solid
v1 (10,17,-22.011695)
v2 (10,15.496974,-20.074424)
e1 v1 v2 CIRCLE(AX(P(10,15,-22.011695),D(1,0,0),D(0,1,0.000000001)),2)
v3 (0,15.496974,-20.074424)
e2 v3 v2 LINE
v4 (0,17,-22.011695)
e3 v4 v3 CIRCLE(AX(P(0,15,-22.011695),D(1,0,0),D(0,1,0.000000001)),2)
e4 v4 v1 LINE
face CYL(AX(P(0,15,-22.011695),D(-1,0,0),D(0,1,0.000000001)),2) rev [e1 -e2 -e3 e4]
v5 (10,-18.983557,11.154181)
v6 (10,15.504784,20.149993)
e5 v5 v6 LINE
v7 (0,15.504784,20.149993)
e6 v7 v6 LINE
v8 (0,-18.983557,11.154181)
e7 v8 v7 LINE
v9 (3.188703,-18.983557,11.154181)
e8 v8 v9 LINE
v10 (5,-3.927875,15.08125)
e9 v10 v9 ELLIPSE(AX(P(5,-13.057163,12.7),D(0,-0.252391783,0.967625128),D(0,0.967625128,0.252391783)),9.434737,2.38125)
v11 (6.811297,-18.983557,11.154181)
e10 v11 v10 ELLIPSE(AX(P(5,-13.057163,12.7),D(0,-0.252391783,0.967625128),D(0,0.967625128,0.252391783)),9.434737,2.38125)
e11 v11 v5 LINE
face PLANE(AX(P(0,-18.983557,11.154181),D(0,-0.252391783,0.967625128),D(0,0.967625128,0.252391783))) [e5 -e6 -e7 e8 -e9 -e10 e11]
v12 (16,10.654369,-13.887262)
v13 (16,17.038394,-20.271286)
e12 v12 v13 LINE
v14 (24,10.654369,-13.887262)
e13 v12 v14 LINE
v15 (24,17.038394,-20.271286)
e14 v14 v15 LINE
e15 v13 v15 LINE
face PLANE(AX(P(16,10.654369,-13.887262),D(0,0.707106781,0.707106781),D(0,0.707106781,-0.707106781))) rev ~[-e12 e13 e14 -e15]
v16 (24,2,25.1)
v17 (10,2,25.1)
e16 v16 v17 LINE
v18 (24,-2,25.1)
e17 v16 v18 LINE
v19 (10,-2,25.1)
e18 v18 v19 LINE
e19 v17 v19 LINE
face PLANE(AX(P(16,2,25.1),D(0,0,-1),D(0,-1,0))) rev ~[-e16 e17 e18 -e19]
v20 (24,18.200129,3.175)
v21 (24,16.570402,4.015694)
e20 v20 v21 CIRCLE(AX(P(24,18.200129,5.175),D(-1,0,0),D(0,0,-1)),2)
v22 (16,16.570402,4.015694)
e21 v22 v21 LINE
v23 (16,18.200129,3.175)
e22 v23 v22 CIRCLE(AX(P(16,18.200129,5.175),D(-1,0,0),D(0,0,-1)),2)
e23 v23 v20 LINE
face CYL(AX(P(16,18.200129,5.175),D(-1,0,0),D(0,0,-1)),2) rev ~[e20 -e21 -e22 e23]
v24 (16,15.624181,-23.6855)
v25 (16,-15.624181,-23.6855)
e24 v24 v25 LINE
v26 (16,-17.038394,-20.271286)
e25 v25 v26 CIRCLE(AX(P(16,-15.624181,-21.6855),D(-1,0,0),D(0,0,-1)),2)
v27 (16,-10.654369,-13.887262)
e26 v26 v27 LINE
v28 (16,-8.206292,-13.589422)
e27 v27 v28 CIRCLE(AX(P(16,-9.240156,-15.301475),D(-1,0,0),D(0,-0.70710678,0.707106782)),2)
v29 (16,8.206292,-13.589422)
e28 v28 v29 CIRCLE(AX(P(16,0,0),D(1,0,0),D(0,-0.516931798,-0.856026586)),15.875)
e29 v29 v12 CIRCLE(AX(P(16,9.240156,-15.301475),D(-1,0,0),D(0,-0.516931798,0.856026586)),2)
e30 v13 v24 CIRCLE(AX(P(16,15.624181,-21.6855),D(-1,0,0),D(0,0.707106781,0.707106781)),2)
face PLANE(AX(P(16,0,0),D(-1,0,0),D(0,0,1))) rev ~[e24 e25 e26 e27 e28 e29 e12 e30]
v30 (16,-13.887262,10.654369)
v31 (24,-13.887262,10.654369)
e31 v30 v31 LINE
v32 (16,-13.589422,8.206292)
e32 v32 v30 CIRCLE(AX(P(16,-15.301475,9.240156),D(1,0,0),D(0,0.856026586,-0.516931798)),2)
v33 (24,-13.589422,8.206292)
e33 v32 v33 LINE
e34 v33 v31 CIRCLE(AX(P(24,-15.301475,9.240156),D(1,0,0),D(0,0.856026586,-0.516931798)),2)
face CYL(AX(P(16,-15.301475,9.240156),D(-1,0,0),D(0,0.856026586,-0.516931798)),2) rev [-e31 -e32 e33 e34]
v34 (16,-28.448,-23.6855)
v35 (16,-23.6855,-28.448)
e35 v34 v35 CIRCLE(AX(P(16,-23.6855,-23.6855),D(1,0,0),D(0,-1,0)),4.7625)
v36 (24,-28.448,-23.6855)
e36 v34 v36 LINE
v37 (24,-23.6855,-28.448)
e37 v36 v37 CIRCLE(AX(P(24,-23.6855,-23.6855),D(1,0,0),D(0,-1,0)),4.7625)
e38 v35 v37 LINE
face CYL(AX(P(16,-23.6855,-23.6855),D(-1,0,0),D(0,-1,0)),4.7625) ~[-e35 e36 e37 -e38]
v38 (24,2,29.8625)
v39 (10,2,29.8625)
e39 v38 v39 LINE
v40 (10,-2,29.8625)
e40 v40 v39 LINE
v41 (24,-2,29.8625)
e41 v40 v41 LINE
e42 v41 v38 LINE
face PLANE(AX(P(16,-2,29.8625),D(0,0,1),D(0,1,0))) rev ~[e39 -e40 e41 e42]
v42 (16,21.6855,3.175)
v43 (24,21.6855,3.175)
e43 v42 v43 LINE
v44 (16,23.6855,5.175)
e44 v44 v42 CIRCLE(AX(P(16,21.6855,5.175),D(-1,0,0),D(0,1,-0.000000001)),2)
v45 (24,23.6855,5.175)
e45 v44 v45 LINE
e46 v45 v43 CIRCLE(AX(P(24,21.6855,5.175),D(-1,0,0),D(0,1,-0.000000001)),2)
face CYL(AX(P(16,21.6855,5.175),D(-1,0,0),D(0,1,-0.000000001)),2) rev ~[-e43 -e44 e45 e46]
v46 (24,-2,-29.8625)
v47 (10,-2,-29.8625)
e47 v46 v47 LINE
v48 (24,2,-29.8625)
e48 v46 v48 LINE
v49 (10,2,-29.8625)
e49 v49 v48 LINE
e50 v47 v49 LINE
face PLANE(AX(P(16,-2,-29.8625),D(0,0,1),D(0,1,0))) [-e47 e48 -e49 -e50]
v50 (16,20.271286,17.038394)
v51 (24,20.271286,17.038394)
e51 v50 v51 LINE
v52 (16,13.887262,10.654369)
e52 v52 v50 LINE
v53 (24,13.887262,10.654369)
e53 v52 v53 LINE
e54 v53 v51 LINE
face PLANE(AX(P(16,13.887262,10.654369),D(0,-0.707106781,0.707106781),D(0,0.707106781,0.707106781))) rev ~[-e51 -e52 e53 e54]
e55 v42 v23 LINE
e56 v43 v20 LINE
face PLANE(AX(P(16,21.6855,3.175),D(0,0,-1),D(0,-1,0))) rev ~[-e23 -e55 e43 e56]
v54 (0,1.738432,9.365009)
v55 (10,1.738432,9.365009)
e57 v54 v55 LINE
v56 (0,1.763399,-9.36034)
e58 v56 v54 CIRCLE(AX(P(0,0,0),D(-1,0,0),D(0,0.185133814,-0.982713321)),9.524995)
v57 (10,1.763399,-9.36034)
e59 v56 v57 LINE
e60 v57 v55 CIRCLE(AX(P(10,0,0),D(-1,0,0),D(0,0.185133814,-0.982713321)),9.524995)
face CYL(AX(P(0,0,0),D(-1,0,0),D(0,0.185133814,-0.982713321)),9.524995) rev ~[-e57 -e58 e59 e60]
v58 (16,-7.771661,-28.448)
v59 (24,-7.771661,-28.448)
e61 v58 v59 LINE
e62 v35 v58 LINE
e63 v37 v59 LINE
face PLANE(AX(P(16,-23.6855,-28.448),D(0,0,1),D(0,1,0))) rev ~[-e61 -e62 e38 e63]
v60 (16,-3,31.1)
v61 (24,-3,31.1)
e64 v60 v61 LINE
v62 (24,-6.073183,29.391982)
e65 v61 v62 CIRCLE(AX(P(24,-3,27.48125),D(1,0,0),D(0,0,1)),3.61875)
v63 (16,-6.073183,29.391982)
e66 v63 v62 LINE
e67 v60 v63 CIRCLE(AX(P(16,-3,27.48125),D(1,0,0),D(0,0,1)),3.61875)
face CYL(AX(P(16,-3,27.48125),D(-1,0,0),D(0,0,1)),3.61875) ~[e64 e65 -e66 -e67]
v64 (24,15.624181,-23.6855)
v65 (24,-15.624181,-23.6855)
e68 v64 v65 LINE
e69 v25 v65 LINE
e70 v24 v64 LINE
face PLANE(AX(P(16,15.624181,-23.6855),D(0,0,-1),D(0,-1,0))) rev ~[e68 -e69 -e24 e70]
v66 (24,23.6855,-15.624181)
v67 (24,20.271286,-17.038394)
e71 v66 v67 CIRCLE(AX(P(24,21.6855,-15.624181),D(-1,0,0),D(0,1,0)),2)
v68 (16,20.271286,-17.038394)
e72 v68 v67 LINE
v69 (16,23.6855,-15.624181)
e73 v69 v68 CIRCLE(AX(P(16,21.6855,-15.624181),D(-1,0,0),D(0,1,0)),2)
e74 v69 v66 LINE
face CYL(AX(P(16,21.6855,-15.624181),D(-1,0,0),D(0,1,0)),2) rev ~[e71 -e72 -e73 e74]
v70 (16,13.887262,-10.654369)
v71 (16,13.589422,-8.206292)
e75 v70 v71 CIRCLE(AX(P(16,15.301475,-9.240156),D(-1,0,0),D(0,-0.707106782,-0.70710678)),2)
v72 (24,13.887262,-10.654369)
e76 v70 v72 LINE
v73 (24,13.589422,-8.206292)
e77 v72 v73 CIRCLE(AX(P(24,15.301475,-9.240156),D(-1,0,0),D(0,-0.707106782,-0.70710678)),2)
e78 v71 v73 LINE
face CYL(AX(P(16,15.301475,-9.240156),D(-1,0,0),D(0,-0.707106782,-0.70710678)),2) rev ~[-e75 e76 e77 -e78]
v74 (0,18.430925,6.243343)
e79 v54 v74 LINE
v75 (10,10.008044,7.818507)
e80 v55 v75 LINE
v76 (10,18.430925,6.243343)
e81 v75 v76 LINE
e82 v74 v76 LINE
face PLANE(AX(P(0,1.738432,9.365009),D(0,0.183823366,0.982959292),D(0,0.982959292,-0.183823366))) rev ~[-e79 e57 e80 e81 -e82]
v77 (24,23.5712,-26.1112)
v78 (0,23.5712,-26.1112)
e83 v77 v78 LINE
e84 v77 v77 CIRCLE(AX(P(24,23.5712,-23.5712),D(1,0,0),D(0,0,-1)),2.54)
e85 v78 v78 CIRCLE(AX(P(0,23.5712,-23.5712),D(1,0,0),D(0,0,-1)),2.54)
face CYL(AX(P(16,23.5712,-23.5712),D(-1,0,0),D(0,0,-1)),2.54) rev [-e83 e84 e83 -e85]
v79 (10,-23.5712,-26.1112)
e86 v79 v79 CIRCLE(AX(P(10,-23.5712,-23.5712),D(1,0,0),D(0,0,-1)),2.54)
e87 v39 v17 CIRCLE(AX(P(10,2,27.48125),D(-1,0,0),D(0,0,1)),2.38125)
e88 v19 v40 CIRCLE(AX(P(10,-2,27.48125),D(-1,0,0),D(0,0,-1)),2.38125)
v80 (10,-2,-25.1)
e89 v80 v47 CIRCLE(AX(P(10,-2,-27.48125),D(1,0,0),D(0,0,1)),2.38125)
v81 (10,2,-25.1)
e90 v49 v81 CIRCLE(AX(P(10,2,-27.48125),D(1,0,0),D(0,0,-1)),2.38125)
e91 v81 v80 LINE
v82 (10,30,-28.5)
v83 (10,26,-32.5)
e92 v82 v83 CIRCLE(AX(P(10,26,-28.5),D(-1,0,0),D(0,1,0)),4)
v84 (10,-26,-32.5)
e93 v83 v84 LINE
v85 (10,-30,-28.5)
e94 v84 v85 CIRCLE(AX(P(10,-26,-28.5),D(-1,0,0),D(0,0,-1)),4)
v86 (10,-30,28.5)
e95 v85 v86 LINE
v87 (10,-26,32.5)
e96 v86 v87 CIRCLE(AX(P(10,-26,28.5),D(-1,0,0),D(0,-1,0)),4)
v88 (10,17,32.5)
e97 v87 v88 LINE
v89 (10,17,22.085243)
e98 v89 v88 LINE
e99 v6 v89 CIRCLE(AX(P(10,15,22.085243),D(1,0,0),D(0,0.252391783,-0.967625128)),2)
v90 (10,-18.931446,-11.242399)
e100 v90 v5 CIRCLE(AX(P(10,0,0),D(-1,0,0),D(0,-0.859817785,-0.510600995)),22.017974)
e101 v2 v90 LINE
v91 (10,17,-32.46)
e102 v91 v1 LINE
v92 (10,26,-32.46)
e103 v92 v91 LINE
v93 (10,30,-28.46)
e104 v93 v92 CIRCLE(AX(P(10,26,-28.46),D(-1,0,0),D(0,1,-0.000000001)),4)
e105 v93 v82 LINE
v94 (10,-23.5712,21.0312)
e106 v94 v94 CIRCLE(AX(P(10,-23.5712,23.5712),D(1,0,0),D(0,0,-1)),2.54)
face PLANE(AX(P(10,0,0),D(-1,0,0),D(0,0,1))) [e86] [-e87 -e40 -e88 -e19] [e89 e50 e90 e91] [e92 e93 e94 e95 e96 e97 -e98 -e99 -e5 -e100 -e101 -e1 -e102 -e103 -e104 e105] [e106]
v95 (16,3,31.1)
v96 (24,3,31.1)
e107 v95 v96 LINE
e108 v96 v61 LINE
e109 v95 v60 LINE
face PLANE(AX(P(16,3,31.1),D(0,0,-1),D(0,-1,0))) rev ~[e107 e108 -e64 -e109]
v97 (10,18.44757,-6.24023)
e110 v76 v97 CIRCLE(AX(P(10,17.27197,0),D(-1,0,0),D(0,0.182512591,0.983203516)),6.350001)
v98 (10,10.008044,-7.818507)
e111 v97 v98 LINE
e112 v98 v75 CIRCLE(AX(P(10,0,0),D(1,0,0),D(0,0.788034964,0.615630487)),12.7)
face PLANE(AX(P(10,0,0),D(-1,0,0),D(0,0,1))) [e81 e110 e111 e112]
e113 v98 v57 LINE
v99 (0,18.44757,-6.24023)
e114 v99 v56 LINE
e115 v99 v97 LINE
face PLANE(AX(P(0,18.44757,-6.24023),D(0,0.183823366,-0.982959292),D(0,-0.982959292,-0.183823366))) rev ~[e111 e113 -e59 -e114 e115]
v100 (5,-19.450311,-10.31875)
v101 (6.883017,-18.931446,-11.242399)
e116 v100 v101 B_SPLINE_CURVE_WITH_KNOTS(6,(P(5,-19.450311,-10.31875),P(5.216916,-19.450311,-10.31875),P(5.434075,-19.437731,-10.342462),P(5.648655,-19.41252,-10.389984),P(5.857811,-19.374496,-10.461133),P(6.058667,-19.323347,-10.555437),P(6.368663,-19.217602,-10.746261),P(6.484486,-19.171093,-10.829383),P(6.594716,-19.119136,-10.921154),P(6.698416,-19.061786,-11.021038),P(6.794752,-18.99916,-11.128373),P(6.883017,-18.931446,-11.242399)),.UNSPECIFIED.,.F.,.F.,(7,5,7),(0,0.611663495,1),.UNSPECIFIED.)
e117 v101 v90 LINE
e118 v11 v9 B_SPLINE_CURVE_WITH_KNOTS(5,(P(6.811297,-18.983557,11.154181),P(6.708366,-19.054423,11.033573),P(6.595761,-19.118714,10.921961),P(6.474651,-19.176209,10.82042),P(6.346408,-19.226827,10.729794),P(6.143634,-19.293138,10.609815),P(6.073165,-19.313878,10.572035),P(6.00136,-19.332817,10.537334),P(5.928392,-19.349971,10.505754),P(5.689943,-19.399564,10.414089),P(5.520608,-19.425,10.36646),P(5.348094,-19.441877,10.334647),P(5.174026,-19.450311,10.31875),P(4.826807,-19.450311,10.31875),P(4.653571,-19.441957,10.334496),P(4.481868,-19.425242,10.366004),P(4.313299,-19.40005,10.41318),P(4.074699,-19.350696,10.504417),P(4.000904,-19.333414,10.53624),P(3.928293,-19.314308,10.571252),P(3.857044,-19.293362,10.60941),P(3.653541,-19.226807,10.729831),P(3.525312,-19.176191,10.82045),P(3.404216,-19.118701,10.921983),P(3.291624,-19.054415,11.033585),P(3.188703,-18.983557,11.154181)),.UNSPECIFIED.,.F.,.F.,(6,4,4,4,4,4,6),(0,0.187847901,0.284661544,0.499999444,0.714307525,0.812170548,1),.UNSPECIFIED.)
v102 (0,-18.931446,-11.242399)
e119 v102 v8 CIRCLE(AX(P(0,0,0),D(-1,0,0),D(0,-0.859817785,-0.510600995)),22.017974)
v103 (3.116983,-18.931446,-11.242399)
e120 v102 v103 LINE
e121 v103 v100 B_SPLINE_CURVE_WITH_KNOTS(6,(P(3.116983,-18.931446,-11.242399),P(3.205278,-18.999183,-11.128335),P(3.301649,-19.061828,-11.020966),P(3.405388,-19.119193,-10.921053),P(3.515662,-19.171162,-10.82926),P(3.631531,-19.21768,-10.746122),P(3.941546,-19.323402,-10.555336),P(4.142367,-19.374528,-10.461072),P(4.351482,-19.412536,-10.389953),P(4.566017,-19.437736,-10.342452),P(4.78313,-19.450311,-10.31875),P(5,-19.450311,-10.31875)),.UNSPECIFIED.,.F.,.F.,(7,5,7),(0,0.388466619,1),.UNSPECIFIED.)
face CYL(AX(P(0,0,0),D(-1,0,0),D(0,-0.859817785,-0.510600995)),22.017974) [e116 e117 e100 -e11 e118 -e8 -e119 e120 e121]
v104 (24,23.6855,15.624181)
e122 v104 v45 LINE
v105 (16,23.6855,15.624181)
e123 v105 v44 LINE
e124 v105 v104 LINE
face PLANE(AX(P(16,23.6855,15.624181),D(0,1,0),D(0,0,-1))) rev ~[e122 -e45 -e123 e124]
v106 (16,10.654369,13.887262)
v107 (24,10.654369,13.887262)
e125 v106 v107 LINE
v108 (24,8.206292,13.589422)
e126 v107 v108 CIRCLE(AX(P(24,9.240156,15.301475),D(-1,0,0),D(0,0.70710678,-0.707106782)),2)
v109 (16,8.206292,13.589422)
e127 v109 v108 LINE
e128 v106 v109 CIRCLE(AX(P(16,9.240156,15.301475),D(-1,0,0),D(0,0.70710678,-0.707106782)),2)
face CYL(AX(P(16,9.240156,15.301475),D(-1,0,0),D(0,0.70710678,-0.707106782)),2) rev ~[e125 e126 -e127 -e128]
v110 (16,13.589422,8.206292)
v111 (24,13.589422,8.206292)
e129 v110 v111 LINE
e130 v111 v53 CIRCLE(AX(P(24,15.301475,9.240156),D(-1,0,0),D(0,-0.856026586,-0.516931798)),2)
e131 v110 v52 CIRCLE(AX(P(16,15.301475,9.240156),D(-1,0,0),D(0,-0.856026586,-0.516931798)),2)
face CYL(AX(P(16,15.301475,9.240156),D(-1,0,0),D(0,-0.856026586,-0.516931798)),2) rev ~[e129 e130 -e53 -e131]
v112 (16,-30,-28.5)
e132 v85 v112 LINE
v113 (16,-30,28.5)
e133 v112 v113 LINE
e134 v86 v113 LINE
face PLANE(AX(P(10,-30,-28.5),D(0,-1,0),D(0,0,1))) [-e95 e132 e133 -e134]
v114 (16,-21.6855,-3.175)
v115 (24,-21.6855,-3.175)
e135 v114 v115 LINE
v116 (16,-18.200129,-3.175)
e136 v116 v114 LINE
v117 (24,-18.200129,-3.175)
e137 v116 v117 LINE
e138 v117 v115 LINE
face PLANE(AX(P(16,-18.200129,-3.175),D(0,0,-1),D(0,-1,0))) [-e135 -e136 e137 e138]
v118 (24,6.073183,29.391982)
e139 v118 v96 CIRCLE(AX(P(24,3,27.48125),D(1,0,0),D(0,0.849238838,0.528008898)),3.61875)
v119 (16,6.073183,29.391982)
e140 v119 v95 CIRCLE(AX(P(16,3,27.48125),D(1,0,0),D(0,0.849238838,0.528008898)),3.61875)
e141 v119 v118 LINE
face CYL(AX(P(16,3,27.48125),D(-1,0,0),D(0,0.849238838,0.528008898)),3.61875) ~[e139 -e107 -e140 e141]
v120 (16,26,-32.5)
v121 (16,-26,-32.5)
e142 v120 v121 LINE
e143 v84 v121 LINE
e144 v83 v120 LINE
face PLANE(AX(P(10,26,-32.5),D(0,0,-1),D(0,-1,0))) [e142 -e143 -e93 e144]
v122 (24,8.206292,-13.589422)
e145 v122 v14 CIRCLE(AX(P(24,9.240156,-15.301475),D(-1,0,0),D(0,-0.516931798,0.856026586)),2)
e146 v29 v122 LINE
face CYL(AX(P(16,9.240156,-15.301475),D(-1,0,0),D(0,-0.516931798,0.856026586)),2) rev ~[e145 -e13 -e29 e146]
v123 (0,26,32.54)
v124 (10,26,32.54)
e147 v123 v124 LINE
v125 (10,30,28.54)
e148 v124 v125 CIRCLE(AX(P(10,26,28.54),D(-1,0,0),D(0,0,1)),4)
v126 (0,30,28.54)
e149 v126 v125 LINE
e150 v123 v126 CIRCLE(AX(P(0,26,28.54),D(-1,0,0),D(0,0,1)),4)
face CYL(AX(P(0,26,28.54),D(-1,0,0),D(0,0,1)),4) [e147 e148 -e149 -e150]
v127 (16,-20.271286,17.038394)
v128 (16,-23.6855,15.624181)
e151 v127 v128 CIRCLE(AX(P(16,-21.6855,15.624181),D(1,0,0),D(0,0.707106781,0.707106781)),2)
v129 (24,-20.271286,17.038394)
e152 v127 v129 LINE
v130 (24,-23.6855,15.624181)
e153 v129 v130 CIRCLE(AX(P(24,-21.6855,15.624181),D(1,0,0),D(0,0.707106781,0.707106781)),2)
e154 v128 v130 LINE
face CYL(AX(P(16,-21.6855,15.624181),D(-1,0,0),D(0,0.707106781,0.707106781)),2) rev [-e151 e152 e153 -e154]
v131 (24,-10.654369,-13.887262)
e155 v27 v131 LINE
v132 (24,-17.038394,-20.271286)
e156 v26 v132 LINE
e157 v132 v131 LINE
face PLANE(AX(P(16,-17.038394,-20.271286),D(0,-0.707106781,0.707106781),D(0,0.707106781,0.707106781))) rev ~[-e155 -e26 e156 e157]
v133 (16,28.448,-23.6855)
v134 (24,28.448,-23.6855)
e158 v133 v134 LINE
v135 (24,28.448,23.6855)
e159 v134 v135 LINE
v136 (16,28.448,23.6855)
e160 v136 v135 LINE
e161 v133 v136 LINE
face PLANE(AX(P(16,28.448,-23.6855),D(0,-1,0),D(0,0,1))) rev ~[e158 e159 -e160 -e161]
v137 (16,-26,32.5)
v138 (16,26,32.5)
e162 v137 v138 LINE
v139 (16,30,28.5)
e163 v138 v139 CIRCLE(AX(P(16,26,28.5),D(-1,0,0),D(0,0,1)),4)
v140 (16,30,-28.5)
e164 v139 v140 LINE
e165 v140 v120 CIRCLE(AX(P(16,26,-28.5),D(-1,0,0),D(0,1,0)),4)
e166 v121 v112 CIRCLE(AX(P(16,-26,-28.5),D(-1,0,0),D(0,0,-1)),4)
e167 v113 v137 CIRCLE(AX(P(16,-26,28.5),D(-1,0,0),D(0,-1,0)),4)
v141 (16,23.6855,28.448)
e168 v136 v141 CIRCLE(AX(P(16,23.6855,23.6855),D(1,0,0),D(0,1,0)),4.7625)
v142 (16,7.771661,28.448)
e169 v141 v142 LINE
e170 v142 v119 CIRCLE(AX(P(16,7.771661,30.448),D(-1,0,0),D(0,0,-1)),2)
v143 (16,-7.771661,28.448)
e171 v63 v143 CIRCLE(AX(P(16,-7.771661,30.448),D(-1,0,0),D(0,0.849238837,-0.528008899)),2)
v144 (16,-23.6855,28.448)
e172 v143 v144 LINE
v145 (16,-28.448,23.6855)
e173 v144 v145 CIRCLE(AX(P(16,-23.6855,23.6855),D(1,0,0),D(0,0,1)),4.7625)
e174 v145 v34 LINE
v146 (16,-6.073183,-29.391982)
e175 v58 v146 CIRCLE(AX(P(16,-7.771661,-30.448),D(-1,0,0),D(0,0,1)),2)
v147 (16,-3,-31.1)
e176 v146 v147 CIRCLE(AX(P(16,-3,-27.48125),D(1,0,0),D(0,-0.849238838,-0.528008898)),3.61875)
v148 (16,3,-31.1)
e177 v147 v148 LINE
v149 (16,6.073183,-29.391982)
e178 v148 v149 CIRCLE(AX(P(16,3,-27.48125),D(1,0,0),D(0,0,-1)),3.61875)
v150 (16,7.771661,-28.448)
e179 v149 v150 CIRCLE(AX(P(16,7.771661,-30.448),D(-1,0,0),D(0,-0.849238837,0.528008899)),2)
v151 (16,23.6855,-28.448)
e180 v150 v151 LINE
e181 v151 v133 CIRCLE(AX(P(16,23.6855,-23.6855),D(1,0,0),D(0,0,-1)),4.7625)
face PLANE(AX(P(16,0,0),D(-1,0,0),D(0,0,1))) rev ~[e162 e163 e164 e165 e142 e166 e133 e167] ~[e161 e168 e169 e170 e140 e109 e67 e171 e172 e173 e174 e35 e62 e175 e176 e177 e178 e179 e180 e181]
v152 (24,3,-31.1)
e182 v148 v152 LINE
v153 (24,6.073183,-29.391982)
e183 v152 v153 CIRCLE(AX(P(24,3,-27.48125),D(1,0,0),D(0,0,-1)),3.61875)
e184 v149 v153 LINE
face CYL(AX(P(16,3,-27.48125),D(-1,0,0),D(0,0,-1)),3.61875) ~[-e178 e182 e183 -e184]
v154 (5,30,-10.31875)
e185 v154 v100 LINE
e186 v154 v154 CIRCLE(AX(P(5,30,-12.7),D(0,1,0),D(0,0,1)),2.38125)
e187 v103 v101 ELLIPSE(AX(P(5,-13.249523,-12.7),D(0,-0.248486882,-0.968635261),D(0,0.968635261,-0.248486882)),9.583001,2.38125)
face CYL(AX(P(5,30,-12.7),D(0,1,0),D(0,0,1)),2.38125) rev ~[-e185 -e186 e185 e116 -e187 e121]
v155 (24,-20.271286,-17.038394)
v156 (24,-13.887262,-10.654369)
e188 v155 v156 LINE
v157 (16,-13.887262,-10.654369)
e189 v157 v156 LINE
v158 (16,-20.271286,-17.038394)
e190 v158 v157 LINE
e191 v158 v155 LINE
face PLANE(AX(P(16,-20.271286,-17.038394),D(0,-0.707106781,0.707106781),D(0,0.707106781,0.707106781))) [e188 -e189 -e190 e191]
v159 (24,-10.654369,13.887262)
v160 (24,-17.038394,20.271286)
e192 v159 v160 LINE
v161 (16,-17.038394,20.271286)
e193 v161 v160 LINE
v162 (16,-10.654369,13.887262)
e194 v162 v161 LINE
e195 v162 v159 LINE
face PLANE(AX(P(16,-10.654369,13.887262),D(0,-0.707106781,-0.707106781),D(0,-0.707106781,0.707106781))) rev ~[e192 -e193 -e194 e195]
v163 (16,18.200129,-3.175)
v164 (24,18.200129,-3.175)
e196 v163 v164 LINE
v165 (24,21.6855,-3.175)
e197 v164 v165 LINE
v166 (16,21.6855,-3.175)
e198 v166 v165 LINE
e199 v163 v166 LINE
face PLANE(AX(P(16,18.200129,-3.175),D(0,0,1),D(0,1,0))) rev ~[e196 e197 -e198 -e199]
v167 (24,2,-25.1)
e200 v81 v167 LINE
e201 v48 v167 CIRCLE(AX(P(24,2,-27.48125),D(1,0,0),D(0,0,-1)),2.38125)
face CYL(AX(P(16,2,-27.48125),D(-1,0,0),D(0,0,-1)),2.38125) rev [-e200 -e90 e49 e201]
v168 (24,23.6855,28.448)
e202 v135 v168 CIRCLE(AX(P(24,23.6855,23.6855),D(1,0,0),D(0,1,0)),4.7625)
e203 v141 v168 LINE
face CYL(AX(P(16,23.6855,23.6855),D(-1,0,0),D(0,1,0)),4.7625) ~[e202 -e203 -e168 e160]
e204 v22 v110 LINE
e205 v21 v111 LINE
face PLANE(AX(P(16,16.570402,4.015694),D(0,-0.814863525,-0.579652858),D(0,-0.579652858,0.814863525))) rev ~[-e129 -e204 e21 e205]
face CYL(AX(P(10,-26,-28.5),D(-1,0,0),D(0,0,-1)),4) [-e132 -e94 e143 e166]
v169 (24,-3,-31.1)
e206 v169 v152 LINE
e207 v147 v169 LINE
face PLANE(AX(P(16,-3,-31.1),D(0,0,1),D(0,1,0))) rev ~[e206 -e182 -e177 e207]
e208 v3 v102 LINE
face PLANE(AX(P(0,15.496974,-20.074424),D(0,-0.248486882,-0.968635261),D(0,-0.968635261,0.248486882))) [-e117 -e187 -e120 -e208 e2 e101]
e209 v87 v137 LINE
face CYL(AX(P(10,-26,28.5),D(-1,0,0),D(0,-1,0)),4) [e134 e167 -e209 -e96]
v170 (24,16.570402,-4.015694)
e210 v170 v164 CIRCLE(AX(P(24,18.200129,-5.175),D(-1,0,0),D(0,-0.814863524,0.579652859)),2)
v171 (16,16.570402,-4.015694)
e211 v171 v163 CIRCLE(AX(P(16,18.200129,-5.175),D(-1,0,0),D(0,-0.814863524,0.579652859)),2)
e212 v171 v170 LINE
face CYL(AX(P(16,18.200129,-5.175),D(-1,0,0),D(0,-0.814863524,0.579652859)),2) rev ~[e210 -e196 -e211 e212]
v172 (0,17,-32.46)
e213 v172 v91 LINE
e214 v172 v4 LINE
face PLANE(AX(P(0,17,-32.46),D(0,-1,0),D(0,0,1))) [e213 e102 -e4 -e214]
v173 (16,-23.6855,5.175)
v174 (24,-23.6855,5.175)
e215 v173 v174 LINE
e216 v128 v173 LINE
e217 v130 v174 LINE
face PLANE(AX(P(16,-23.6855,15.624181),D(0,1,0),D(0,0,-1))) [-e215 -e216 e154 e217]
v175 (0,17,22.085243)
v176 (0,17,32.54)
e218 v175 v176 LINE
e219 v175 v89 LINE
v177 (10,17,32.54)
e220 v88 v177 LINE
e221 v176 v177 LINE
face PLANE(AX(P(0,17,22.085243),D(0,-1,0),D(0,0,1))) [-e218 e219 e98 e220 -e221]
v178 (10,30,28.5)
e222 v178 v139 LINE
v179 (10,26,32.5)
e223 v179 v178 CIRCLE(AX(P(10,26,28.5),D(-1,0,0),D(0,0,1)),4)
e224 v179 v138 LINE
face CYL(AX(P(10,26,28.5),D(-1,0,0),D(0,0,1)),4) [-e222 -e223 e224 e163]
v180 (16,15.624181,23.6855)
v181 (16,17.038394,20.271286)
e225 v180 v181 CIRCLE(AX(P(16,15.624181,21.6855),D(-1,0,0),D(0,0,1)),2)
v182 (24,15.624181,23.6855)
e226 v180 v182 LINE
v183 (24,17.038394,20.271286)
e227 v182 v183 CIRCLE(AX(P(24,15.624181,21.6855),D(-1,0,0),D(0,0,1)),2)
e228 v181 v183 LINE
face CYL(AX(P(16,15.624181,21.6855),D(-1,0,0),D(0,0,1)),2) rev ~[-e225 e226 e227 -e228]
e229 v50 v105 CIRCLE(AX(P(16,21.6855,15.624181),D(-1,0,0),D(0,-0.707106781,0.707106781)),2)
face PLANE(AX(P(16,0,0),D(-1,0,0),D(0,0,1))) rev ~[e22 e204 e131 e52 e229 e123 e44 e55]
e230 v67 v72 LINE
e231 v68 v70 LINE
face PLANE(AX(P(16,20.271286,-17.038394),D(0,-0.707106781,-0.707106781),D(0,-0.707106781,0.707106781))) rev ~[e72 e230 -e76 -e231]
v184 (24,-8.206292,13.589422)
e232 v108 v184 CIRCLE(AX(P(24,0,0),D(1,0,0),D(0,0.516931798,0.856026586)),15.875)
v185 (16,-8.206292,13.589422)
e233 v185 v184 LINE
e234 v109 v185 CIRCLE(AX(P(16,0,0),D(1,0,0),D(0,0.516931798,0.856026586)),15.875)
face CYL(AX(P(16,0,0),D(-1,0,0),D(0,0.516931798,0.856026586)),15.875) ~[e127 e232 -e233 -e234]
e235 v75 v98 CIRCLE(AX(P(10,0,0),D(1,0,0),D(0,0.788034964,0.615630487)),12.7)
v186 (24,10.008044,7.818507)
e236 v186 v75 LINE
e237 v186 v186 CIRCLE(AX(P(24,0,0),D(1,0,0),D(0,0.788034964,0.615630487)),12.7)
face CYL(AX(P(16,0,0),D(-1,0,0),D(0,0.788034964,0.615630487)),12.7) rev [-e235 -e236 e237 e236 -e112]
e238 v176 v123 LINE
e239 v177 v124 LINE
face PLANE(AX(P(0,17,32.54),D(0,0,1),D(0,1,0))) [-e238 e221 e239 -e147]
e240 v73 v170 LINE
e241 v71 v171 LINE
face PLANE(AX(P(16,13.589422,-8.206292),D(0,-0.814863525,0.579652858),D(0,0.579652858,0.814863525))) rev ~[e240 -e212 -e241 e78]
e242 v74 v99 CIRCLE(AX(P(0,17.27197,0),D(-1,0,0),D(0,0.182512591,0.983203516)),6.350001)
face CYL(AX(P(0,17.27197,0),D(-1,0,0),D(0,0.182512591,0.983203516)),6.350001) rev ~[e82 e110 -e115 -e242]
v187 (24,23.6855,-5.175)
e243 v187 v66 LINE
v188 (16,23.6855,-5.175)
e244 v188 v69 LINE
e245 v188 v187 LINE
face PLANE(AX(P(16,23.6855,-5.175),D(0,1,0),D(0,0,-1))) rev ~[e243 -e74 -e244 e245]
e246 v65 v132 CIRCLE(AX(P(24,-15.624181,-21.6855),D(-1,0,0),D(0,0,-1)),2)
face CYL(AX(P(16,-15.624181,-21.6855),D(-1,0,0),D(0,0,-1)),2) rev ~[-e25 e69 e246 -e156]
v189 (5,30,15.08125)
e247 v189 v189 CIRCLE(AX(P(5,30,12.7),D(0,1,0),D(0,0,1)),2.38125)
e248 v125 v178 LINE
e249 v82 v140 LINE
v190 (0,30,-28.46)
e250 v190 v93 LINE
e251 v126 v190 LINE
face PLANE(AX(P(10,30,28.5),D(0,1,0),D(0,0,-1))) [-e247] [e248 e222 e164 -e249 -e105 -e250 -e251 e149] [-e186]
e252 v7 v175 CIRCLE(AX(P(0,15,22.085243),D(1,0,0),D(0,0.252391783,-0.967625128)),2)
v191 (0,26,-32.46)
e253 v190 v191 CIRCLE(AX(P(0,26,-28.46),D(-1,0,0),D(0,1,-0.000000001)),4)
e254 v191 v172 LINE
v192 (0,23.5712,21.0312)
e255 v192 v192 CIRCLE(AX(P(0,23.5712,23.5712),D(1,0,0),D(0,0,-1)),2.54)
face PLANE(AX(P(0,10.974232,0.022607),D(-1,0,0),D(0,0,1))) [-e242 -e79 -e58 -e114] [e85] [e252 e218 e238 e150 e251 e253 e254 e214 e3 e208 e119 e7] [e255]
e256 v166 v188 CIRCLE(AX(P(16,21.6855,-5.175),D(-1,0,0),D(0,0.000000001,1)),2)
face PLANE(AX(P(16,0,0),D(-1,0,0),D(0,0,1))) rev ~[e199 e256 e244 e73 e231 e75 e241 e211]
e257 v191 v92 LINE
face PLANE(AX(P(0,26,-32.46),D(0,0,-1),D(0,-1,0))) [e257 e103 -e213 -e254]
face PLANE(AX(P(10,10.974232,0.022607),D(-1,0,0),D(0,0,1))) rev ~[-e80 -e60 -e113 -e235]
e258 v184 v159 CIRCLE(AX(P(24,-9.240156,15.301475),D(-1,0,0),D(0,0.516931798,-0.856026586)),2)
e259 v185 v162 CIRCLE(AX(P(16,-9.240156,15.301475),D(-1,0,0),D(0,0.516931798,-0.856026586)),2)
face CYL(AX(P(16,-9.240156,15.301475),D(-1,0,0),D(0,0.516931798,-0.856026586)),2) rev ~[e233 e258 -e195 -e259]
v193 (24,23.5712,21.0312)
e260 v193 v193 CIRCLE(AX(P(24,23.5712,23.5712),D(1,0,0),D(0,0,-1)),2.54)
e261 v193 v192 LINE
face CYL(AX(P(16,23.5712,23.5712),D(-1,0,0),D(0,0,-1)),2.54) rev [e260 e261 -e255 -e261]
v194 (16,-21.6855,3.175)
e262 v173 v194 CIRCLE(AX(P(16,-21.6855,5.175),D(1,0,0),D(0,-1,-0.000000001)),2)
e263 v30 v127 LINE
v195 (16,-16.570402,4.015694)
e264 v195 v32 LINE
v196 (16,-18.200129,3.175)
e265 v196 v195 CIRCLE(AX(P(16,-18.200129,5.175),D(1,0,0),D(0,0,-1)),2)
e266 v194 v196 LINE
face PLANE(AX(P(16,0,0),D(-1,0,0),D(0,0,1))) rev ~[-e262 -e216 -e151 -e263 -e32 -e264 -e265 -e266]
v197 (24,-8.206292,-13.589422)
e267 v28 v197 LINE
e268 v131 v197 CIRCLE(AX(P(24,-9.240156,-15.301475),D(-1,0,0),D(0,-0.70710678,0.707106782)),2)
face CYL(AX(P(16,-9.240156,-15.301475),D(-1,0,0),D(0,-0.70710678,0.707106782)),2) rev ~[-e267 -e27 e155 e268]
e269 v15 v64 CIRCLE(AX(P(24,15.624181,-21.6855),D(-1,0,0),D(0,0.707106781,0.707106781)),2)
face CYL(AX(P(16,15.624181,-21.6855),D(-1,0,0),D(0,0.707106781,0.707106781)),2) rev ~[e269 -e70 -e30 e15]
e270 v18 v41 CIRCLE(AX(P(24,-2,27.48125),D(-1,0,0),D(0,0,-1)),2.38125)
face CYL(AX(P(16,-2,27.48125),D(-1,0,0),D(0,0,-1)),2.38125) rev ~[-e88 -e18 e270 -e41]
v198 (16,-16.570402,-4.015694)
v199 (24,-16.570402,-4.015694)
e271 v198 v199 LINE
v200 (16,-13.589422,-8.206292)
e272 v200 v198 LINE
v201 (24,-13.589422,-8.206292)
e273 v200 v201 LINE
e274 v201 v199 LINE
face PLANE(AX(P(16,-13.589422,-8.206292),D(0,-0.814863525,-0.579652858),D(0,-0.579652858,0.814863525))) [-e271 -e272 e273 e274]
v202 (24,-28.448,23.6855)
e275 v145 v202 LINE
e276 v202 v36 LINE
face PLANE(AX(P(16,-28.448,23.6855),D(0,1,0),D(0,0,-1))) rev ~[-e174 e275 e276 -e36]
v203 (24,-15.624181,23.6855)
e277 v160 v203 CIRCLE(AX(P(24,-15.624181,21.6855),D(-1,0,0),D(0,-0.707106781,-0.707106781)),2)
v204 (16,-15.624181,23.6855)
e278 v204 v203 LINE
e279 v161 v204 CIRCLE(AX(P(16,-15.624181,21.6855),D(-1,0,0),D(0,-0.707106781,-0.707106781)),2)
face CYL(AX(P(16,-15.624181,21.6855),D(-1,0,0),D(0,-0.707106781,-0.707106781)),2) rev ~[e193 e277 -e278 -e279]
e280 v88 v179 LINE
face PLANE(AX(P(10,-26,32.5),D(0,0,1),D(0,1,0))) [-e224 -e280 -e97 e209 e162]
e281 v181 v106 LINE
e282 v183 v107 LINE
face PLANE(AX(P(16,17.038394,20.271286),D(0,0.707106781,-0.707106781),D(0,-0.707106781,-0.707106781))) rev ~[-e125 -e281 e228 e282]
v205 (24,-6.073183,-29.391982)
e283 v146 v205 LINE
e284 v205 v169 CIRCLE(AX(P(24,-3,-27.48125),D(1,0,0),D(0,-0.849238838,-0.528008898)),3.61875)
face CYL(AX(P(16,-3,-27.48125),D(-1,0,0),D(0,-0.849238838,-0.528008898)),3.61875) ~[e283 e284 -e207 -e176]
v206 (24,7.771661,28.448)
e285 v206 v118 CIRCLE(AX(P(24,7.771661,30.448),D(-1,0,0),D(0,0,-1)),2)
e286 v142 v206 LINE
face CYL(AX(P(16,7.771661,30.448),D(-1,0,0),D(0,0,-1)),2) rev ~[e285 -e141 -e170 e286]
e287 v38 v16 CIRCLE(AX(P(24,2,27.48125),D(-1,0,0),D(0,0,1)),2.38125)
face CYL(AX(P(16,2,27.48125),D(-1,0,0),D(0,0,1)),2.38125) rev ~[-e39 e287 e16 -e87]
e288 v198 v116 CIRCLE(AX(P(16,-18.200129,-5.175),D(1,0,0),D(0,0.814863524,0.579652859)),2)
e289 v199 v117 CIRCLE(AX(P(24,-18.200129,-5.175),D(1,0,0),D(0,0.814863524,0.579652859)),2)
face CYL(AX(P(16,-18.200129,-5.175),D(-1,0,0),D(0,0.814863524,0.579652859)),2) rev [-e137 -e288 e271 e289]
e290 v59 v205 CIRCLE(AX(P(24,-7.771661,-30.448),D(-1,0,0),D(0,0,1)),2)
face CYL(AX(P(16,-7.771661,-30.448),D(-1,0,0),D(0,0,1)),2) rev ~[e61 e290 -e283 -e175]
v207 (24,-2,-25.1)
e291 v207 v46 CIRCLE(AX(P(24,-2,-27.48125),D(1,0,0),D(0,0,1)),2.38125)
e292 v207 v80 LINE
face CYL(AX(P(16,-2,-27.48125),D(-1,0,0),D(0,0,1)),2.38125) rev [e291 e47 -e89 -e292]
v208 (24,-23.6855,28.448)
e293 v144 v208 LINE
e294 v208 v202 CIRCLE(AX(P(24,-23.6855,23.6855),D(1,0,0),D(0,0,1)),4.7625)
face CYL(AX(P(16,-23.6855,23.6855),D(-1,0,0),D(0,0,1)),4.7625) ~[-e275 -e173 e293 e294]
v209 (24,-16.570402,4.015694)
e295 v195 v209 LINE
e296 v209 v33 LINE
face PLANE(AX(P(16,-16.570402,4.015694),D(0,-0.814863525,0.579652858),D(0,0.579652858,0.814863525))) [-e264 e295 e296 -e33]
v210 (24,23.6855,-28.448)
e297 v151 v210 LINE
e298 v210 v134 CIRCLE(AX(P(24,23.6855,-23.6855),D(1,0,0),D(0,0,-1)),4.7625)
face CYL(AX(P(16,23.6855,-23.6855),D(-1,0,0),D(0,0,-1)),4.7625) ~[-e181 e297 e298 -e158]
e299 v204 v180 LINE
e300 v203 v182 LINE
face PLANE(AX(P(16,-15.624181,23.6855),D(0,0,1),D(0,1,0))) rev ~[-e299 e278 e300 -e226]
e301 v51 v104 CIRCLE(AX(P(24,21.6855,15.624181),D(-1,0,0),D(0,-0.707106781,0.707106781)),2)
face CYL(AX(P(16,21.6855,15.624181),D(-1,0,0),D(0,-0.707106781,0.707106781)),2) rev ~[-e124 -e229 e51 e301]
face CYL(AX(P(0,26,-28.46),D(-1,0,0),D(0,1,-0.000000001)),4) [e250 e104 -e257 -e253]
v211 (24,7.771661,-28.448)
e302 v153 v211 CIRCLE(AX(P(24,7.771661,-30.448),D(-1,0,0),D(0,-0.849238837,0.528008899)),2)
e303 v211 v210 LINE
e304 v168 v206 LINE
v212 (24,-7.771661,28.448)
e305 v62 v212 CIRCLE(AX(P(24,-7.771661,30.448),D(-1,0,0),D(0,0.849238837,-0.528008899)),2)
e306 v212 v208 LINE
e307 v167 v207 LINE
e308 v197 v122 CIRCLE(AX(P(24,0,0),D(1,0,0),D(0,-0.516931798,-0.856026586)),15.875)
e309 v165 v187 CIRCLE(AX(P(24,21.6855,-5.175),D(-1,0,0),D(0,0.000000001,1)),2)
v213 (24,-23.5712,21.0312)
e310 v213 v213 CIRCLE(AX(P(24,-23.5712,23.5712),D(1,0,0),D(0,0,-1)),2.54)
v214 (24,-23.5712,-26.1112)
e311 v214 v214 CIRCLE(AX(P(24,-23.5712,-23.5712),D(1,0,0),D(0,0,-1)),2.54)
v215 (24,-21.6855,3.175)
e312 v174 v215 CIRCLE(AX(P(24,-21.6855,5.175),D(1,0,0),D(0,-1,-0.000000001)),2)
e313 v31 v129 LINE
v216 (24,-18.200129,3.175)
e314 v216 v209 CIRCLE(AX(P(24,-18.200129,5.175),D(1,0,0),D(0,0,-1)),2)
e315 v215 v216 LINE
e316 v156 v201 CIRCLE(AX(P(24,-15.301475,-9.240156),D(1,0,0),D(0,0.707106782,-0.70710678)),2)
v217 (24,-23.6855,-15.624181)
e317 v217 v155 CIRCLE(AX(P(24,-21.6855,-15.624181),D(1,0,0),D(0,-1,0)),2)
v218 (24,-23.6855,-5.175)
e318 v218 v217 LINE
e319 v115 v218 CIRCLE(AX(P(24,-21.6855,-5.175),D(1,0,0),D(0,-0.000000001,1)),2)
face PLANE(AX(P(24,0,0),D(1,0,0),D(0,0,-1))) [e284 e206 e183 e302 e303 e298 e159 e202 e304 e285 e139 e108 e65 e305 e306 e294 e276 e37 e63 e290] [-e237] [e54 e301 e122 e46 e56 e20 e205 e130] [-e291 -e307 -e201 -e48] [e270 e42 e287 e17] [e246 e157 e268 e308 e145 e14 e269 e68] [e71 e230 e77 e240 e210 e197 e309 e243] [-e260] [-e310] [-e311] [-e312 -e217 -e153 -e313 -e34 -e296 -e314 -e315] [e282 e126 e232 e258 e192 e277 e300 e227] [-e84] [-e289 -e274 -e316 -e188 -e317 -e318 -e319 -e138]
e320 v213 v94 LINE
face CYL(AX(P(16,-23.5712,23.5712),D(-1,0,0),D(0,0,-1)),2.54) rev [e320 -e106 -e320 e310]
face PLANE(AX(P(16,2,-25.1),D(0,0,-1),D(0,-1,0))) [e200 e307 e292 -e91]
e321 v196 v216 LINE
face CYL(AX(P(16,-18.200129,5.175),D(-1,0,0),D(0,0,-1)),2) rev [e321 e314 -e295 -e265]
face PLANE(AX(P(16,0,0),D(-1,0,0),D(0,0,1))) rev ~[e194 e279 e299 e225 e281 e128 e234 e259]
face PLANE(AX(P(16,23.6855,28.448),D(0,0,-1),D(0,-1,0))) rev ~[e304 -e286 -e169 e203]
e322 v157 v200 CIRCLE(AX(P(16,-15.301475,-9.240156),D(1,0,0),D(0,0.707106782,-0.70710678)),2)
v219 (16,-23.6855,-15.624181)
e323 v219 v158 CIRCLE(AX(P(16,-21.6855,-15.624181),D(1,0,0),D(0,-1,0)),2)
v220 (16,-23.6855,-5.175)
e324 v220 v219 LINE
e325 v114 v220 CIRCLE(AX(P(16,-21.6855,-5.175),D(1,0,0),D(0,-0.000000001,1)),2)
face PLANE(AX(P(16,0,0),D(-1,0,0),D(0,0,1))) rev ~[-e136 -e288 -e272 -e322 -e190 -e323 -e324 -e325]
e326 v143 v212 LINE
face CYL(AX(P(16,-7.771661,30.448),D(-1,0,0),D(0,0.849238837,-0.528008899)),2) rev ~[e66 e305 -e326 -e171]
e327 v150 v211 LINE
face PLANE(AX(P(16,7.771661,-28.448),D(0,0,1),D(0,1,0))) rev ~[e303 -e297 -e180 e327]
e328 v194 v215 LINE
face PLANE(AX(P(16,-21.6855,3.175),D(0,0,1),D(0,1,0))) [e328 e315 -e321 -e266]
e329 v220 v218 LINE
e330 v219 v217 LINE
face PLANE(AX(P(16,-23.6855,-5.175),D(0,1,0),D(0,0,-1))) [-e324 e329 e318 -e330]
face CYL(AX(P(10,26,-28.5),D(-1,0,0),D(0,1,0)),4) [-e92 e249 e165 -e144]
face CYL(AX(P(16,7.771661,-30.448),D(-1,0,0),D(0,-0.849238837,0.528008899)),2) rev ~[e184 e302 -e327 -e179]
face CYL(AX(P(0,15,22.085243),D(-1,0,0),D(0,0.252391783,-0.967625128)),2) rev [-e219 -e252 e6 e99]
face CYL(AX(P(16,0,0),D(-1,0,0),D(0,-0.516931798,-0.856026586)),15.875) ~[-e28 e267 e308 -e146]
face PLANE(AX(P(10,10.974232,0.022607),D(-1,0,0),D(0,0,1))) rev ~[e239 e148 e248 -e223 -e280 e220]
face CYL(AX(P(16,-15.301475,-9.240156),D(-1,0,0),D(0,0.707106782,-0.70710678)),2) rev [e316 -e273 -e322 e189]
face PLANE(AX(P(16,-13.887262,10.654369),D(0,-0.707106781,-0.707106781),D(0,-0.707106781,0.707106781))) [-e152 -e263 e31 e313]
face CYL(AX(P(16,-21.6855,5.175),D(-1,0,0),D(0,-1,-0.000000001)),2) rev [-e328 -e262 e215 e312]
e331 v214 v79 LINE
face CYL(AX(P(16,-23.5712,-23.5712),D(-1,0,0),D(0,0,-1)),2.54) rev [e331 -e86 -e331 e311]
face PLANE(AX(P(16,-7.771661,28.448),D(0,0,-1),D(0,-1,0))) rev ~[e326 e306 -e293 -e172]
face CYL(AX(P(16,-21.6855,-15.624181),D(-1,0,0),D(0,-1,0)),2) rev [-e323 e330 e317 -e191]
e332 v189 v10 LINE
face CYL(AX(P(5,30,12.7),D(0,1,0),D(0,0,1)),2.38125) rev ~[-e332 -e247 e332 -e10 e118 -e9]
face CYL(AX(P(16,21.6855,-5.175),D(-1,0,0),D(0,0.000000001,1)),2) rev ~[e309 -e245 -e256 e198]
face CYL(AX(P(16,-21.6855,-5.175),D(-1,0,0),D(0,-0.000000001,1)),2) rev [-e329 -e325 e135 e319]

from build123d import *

# Parameters (mm, degrees)
SKETCH3_R           = 2.54
BOSS_EXTRUDE1_DEPTH = 10
SKETCH2_R           = 2.54
SKETCH2_R_2         = 12.7
BOSS_EXTRUDE2_DEPTH = 6
SKETCH4_R           = 12.7
SKETCH4_R_2         = 2.54
BOSS_EXTRUDE3_DEPTH = 8
SKETCH5_R           = 2.38125
CUT_EXTRUDE1_DEPTH  = 70


with BuildPart() as part:
    # Sketch3 → Boss-Extrude1 (new body)
    with BuildSketch(Plane(origin=(0, 0, 0), x_dir=(0, 0, -1), z_dir=(1, 0, 0))):
        with BuildLine():
            Line((32.460000001, 26), (32.460000001, 17))
            Line((32.460000001, 17), (22.011694736, 17))
            ThreePointArc((22.011694736, 17), (20.785715032, 16.58018156), (20.074424214, 15.496973764))
            Line((20.074424214, 15.496973764), (11.242399458, -18.931445665))
            ThreePointArc((11.242399458, -18.931445665), (0.051229837, -22.017914435), (-11.154181322, -18.983556558))
            Line((-11.154181322, -18.983556558), (-20.149993239, 15.504783566))
            ThreePointArc((-20.149993239, 15.504783566), (-20.862453065, 16.582650803), (-22.085243494, 17))
            Line((-22.085243494, 17), (-32.539999999, 17))
            Line((-32.539999999, 17), (-32.539999999, 26))
            ThreePointArc((-32.539999999, 26), (-31.368427124, 28.828427124), (-28.539999999, 30))
            Line((-28.539999999, 30), (28.460000001, 30))
            ThreePointArc((28.460000001, 30), (31.288427125, 28.828427124), (32.460000001, 26))
        make_face()
        with Locations((-23.5712, 23.5712)):
            Circle(SKETCH3_R, mode=Mode.SUBTRACT)
        with Locations((23.5712, 23.5712)):
            Circle(SKETCH3_R, mode=Mode.SUBTRACT)
        with BuildLine():
            Line((-9.365008666, 1.738431537), (-6.243342957, 18.43092489))
            ThreePointArc((-6.243342957, 18.43092489), (-0.00846666, 23.621964814), (6.240230217, 18.447569655))
            Line((6.240230217, 18.447569655), (9.360339559, 1.763398668))
            ThreePointArc((9.360339559, 1.763398668), (0.012699982, -9.524986626), (-9.365008666, 1.738431537))
        make_face(mode=Mode.SUBTRACT)
    extrude(amount=BOSS_EXTRUDE1_DEPTH)

    # Sketch2 → Boss-Extrude2 (add)
    with BuildSketch(Plane(origin=(10, 0, 0), x_dir=(0, 0, -1), z_dir=(1, 0, 0))):
        with BuildLine():
            Line((-28.5, 30), (28.5, 30))
            ThreePointArc((28.5, 30), (31.328427125, 28.828427125), (32.5, 26))
            Line((32.5, 26), (32.5, -26))
            ThreePointArc((32.5, -26), (31.328427125, -28.828427125), (28.5, -30))
            Line((28.5, -30), (-28.5, -30))
            ThreePointArc((-28.5, -30), (-31.328427125, -28.828427125), (-32.5, -26))
            Line((-32.5, -26), (-32.5, 26))
            ThreePointArc((-32.5, 26), (-31.328427125, 28.828427125), (-28.5, 30))
        make_face()
        with Locations((-23.5712, 23.5712)):
            Circle(SKETCH2_R, mode=Mode.SUBTRACT)
        with Locations((23.5712, 23.5712)):
            Circle(SKETCH2_R, mode=Mode.SUBTRACT)
        with Locations((23.5712, -23.5712)):
            Circle(SKETCH2_R, mode=Mode.SUBTRACT)
        with Locations(Location((0, 0, 0), (0, 0, 127.997746865))):
            Circle(SKETCH2_R_2, mode=Mode.SUBTRACT)
        with Locations((-23.5712, -23.5712)):
            Circle(SKETCH2_R, mode=Mode.SUBTRACT)
        with BuildLine():
            Line((25.1, 2), (25.1, -2))
            ThreePointArc((25.1, -2), (27.48125, -4.38125), (29.8625, -2))
            Line((29.8625, -2), (29.8625, 2))
            ThreePointArc((29.8625, 2), (27.48125, 4.38125), (25.1, 2))
        make_face(mode=Mode.SUBTRACT)
        with BuildLine():
            Line((-29.8625, -2), (-29.8625, 2))
            ThreePointArc((-29.8625, 2), (-27.48125, 4.38125), (-25.1, 2))
            Line((-25.1, 2), (-25.1, -2))
            ThreePointArc((-25.1, -2), (-27.48125, -4.38125), (-29.8625, -2))
        make_face(mode=Mode.SUBTRACT)
    extrude(amount=BOSS_EXTRUDE2_DEPTH)

    # Sketch4 → Boss-Extrude3 (add)
    with BuildSketch(Plane(origin=(16, 0, 0), x_dir=(0, 0, -1), z_dir=(1, 0, 0))):
        with BuildLine():
            Line((-28.448, -7.771660717), (-28.448, -23.6855))
            ThreePointArc((-28.448, -23.6855), (-27.053096045, -27.053096045), (-23.6855, -28.448))
            Line((-23.6855, -28.448), (23.6855, -28.448))
            ThreePointArc((23.6855, -28.448), (27.053096045, -27.053096045), (28.448, -23.6855))
            Line((28.448, -23.6855), (28.448, -7.771660717))
            ThreePointArc((28.448, -7.771660717), (28.699853039, -6.800073252), (29.391982202, -6.073183043))
            ThreePointArc((29.391982202, -6.073183043), (30.644303408, -4.75796607), (31.1, -3))
            Line((31.1, -3), (31.1, 3))
            ThreePointArc((31.1, 3), (30.644303408, 4.75796607), (29.391982202, 6.073183043))
            ThreePointArc((29.391982202, 6.073183043), (28.699853039, 6.800073252), (28.448, 7.771660717))
            Line((28.448, 7.771660717), (28.448, 23.6855))
            ThreePointArc((28.448, 23.6855), (27.053096045, 27.053096045), (23.6855, 28.448))
            Line((23.6855, 28.448), (-23.6855, 28.448))
            ThreePointArc((-23.6855, 28.448), (-27.053096045, 27.053096045), (-28.448, 23.6855))
            Line((-28.448, 23.6855), (-28.448, 7.771660717))
            ThreePointArc((-28.448, 7.771660717), (-28.699853039, 6.800073252), (-29.391982202, 6.073183043))
            ThreePointArc((-29.391982202, 6.073183043), (-30.644303408, 4.75796607), (-31.1, 3))
            Line((-31.1, 3), (-31.1, -3))
            ThreePointArc((-31.1, -3), (-30.644303408, -4.75796607), (-29.391982202, -6.073183043))
            ThreePointArc((-29.391982202, -6.073183043), (-28.699853039, -6.800073252), (-28.448, -7.771660717))
        make_face()
        with Locations(Location((0, 0, 0), (0, 0, 127.997746865))):
            Circle(SKETCH4_R, mode=Mode.SUBTRACT)
        with Locations((23.5712, 23.5712)):
            Circle(SKETCH4_R_2, mode=Mode.SUBTRACT)
        with Locations((-23.5712, 23.5712)):
            Circle(SKETCH4_R_2, mode=Mode.SUBTRACT)
        with Locations((23.5712, -23.5712)):
            Circle(SKETCH4_R_2, mode=Mode.SUBTRACT)
        with Locations((-23.5712, -23.5712)):
            Circle(SKETCH4_R_2, mode=Mode.SUBTRACT)
        with BuildLine():
            Line((-15.624180672, 23.6855), (-5.175, 23.6855))
            ThreePointArc((-5.175, 23.6855), (-3.760786438, 23.099713562), (-3.175, 21.6855))
            Line((-3.175, 21.6855), (-3.175, 18.200129406))
            ThreePointArc((-3.175, 18.200129406), (-3.39755641, 17.283235582), (-4.015694283, 16.570402356))
            Line((-4.015694283, 16.570402356), (-8.206292299, 13.589422052))
            ThreePointArc((-8.206292299, 13.589422052), (-9.481700161, 13.316114711), (-10.654369458, 13.887261661))
            Line((-10.654369458, 13.887261661), (-17.038394234, 20.271286438))
            ThreePointArc((-17.038394234, 20.271286438), (-17.471939737, 22.450866865), (-15.624180672, 23.6855))
        make_face(mode=Mode.SUBTRACT)
        with BuildLine():
            Line((23.6855, 15.624180672), (23.6855, -15.624180672))
            ThreePointArc((23.6855, -15.624180672), (22.450866865, -17.471939737), (20.271286438, -17.038394234))
            Line((20.271286438, -17.038394234), (13.887261661, -10.654369458))
            ThreePointArc((13.887261661, -10.654369458), (13.316114711, -9.481700161), (13.589422052, -8.206292299))
            ThreePointArc((13.589422052, -8.206292299), (15.875, 0), (13.589422052, 8.206292299))
            ThreePointArc((13.589422052, 8.206292299), (13.316114711, 9.481700161), (13.887261661, 10.654369458))
            Line((13.887261661, 10.654369458), (20.271286438, 17.038394234))
            ThreePointArc((20.271286438, 17.038394234), (22.450866865, 17.471939737), (23.6855, 15.624180672))
        make_face(mode=Mode.SUBTRACT)
        with BuildLine():
            Line((17.038394234, -20.271286438), (10.654369458, -13.887261661))
            ThreePointArc((10.654369458, -13.887261661), (9.481700161, -13.316114711), (8.206292299, -13.589422052))
            Line((8.206292299, -13.589422052), (4.015694283, -16.570402356))
            ThreePointArc((4.015694283, -16.570402356), (3.39755641, -17.283235582), (3.175, -18.200129406))
            Line((3.175, -18.200129406), (3.175, -21.6855))
            ThreePointArc((3.175, -21.6855), (3.760786438, -23.099713562), (5.175, -23.6855))
            Line((5.175, -23.6855), (15.624180672, -23.6855))
            ThreePointArc((15.624180672, -23.6855), (17.471939737, -22.450866865), (17.038394234, -20.271286438))
        make_face(mode=Mode.SUBTRACT)
        with BuildLine():
            Line((-23.6855, -15.624180672), (-23.6855, 15.624180672))
            ThreePointArc((-23.6855, 15.624180672), (-22.450866865, 17.471939737), (-20.271286438, 17.038394234))
            Line((-20.271286438, 17.038394234), (-13.887261661, 10.654369458))
            ThreePointArc((-13.887261661, 10.654369458), (-13.316114711, 9.481700161), (-13.589422052, 8.206292299))
            ThreePointArc((-13.589422052, 8.206292299), (-15.875, 0), (-13.589422052, -8.206292299))
            ThreePointArc((-13.589422052, -8.206292299), (-13.316114711, -9.481700161), (-13.887261661, -10.654369458))
            Line((-13.887261661, -10.654369458), (-20.271286438, -17.038394234))
            ThreePointArc((-20.271286438, -17.038394234), (-22.450866865, -17.471939737), (-23.6855, -15.624180672))
        make_face(mode=Mode.SUBTRACT)
        with BuildLine():
            Line((17.038394234, 20.271286438), (10.654369458, 13.887261661))
            ThreePointArc((10.654369458, 13.887261661), (9.481700161, 13.316114711), (8.206292299, 13.589422052))
            Line((8.206292299, 13.589422052), (4.015694283, 16.570402356))
            ThreePointArc((4.015694283, 16.570402356), (3.39755641, 17.283235582), (3.175, 18.200129406))
            Line((3.175, 18.200129406), (3.175, 21.6855))
            ThreePointArc((3.175, 21.6855), (3.760786438, 23.099713562), (5.175, 23.6855))
            Line((5.175, 23.6855), (15.624180672, 23.6855))
            ThreePointArc((15.624180672, 23.6855), (17.471939737, 22.450866865), (17.038394234, 20.271286438))
        make_face(mode=Mode.SUBTRACT)
        with BuildLine():
            Line((-3.175, -21.6855), (-3.175, -18.200129406))
            ThreePointArc((-3.175, -18.200129406), (-3.39755641, -17.283235582), (-4.015694283, -16.570402356))
            Line((-4.015694283, -16.570402356), (-8.206292299, -13.589422052))
            ThreePointArc((-8.206292299, -13.589422052), (-9.481700161, -13.316114711), (-10.654369458, -13.887261661))
            Line((-10.654369458, -13.887261661), (-17.038394234, -20.271286438))
            ThreePointArc((-17.038394234, -20.271286438), (-17.471939737, -22.450866865), (-15.624180672, -23.6855))
            Line((-15.624180672, -23.6855), (-5.175, -23.6855))
            ThreePointArc((-5.175, -23.6855), (-3.760786438, -23.099713562), (-3.175, -21.6855))
        make_face(mode=Mode.SUBTRACT)
        with BuildLine():
            Line((25.1, 2), (25.1, -2))
            ThreePointArc((25.1, -2), (27.48125, -4.38125), (29.8625, -2))
            Line((29.8625, -2), (29.8625, 2))
            ThreePointArc((29.8625, 2), (27.48125, 4.38125), (25.1, 2))
        make_face(mode=Mode.SUBTRACT)
        with BuildLine():
            Line((-29.8625, -2), (-29.8625, 2))
            ThreePointArc((-29.8625, 2), (-27.48125, 4.38125), (-25.1, 2))
            Line((-25.1, 2), (-25.1, -2))
            ThreePointArc((-25.1, -2), (-27.48125, -4.38125), (-29.8625, -2))
        make_face(mode=Mode.SUBTRACT)
    extrude(amount=BOSS_EXTRUDE3_DEPTH)

    # Sketch5 → Cut-Extrude1 (cut)
    with BuildSketch(Plane(origin=(0, 30, 0), x_dir=(-1, 0, 0), z_dir=(0, 1, 0))):
        with Locations(Location((-5, -12.7, 0), (0, 0, 90))):
            Circle(SKETCH5_R)
        with Locations(Location((-5, 12.7, 0), (0, 0, 90))):
            Circle(SKETCH5_R)
    extrude(amount=-CUT_EXTRUDE1_DEPTH, mode=Mode.SUBTRACT)


solid = part.part
